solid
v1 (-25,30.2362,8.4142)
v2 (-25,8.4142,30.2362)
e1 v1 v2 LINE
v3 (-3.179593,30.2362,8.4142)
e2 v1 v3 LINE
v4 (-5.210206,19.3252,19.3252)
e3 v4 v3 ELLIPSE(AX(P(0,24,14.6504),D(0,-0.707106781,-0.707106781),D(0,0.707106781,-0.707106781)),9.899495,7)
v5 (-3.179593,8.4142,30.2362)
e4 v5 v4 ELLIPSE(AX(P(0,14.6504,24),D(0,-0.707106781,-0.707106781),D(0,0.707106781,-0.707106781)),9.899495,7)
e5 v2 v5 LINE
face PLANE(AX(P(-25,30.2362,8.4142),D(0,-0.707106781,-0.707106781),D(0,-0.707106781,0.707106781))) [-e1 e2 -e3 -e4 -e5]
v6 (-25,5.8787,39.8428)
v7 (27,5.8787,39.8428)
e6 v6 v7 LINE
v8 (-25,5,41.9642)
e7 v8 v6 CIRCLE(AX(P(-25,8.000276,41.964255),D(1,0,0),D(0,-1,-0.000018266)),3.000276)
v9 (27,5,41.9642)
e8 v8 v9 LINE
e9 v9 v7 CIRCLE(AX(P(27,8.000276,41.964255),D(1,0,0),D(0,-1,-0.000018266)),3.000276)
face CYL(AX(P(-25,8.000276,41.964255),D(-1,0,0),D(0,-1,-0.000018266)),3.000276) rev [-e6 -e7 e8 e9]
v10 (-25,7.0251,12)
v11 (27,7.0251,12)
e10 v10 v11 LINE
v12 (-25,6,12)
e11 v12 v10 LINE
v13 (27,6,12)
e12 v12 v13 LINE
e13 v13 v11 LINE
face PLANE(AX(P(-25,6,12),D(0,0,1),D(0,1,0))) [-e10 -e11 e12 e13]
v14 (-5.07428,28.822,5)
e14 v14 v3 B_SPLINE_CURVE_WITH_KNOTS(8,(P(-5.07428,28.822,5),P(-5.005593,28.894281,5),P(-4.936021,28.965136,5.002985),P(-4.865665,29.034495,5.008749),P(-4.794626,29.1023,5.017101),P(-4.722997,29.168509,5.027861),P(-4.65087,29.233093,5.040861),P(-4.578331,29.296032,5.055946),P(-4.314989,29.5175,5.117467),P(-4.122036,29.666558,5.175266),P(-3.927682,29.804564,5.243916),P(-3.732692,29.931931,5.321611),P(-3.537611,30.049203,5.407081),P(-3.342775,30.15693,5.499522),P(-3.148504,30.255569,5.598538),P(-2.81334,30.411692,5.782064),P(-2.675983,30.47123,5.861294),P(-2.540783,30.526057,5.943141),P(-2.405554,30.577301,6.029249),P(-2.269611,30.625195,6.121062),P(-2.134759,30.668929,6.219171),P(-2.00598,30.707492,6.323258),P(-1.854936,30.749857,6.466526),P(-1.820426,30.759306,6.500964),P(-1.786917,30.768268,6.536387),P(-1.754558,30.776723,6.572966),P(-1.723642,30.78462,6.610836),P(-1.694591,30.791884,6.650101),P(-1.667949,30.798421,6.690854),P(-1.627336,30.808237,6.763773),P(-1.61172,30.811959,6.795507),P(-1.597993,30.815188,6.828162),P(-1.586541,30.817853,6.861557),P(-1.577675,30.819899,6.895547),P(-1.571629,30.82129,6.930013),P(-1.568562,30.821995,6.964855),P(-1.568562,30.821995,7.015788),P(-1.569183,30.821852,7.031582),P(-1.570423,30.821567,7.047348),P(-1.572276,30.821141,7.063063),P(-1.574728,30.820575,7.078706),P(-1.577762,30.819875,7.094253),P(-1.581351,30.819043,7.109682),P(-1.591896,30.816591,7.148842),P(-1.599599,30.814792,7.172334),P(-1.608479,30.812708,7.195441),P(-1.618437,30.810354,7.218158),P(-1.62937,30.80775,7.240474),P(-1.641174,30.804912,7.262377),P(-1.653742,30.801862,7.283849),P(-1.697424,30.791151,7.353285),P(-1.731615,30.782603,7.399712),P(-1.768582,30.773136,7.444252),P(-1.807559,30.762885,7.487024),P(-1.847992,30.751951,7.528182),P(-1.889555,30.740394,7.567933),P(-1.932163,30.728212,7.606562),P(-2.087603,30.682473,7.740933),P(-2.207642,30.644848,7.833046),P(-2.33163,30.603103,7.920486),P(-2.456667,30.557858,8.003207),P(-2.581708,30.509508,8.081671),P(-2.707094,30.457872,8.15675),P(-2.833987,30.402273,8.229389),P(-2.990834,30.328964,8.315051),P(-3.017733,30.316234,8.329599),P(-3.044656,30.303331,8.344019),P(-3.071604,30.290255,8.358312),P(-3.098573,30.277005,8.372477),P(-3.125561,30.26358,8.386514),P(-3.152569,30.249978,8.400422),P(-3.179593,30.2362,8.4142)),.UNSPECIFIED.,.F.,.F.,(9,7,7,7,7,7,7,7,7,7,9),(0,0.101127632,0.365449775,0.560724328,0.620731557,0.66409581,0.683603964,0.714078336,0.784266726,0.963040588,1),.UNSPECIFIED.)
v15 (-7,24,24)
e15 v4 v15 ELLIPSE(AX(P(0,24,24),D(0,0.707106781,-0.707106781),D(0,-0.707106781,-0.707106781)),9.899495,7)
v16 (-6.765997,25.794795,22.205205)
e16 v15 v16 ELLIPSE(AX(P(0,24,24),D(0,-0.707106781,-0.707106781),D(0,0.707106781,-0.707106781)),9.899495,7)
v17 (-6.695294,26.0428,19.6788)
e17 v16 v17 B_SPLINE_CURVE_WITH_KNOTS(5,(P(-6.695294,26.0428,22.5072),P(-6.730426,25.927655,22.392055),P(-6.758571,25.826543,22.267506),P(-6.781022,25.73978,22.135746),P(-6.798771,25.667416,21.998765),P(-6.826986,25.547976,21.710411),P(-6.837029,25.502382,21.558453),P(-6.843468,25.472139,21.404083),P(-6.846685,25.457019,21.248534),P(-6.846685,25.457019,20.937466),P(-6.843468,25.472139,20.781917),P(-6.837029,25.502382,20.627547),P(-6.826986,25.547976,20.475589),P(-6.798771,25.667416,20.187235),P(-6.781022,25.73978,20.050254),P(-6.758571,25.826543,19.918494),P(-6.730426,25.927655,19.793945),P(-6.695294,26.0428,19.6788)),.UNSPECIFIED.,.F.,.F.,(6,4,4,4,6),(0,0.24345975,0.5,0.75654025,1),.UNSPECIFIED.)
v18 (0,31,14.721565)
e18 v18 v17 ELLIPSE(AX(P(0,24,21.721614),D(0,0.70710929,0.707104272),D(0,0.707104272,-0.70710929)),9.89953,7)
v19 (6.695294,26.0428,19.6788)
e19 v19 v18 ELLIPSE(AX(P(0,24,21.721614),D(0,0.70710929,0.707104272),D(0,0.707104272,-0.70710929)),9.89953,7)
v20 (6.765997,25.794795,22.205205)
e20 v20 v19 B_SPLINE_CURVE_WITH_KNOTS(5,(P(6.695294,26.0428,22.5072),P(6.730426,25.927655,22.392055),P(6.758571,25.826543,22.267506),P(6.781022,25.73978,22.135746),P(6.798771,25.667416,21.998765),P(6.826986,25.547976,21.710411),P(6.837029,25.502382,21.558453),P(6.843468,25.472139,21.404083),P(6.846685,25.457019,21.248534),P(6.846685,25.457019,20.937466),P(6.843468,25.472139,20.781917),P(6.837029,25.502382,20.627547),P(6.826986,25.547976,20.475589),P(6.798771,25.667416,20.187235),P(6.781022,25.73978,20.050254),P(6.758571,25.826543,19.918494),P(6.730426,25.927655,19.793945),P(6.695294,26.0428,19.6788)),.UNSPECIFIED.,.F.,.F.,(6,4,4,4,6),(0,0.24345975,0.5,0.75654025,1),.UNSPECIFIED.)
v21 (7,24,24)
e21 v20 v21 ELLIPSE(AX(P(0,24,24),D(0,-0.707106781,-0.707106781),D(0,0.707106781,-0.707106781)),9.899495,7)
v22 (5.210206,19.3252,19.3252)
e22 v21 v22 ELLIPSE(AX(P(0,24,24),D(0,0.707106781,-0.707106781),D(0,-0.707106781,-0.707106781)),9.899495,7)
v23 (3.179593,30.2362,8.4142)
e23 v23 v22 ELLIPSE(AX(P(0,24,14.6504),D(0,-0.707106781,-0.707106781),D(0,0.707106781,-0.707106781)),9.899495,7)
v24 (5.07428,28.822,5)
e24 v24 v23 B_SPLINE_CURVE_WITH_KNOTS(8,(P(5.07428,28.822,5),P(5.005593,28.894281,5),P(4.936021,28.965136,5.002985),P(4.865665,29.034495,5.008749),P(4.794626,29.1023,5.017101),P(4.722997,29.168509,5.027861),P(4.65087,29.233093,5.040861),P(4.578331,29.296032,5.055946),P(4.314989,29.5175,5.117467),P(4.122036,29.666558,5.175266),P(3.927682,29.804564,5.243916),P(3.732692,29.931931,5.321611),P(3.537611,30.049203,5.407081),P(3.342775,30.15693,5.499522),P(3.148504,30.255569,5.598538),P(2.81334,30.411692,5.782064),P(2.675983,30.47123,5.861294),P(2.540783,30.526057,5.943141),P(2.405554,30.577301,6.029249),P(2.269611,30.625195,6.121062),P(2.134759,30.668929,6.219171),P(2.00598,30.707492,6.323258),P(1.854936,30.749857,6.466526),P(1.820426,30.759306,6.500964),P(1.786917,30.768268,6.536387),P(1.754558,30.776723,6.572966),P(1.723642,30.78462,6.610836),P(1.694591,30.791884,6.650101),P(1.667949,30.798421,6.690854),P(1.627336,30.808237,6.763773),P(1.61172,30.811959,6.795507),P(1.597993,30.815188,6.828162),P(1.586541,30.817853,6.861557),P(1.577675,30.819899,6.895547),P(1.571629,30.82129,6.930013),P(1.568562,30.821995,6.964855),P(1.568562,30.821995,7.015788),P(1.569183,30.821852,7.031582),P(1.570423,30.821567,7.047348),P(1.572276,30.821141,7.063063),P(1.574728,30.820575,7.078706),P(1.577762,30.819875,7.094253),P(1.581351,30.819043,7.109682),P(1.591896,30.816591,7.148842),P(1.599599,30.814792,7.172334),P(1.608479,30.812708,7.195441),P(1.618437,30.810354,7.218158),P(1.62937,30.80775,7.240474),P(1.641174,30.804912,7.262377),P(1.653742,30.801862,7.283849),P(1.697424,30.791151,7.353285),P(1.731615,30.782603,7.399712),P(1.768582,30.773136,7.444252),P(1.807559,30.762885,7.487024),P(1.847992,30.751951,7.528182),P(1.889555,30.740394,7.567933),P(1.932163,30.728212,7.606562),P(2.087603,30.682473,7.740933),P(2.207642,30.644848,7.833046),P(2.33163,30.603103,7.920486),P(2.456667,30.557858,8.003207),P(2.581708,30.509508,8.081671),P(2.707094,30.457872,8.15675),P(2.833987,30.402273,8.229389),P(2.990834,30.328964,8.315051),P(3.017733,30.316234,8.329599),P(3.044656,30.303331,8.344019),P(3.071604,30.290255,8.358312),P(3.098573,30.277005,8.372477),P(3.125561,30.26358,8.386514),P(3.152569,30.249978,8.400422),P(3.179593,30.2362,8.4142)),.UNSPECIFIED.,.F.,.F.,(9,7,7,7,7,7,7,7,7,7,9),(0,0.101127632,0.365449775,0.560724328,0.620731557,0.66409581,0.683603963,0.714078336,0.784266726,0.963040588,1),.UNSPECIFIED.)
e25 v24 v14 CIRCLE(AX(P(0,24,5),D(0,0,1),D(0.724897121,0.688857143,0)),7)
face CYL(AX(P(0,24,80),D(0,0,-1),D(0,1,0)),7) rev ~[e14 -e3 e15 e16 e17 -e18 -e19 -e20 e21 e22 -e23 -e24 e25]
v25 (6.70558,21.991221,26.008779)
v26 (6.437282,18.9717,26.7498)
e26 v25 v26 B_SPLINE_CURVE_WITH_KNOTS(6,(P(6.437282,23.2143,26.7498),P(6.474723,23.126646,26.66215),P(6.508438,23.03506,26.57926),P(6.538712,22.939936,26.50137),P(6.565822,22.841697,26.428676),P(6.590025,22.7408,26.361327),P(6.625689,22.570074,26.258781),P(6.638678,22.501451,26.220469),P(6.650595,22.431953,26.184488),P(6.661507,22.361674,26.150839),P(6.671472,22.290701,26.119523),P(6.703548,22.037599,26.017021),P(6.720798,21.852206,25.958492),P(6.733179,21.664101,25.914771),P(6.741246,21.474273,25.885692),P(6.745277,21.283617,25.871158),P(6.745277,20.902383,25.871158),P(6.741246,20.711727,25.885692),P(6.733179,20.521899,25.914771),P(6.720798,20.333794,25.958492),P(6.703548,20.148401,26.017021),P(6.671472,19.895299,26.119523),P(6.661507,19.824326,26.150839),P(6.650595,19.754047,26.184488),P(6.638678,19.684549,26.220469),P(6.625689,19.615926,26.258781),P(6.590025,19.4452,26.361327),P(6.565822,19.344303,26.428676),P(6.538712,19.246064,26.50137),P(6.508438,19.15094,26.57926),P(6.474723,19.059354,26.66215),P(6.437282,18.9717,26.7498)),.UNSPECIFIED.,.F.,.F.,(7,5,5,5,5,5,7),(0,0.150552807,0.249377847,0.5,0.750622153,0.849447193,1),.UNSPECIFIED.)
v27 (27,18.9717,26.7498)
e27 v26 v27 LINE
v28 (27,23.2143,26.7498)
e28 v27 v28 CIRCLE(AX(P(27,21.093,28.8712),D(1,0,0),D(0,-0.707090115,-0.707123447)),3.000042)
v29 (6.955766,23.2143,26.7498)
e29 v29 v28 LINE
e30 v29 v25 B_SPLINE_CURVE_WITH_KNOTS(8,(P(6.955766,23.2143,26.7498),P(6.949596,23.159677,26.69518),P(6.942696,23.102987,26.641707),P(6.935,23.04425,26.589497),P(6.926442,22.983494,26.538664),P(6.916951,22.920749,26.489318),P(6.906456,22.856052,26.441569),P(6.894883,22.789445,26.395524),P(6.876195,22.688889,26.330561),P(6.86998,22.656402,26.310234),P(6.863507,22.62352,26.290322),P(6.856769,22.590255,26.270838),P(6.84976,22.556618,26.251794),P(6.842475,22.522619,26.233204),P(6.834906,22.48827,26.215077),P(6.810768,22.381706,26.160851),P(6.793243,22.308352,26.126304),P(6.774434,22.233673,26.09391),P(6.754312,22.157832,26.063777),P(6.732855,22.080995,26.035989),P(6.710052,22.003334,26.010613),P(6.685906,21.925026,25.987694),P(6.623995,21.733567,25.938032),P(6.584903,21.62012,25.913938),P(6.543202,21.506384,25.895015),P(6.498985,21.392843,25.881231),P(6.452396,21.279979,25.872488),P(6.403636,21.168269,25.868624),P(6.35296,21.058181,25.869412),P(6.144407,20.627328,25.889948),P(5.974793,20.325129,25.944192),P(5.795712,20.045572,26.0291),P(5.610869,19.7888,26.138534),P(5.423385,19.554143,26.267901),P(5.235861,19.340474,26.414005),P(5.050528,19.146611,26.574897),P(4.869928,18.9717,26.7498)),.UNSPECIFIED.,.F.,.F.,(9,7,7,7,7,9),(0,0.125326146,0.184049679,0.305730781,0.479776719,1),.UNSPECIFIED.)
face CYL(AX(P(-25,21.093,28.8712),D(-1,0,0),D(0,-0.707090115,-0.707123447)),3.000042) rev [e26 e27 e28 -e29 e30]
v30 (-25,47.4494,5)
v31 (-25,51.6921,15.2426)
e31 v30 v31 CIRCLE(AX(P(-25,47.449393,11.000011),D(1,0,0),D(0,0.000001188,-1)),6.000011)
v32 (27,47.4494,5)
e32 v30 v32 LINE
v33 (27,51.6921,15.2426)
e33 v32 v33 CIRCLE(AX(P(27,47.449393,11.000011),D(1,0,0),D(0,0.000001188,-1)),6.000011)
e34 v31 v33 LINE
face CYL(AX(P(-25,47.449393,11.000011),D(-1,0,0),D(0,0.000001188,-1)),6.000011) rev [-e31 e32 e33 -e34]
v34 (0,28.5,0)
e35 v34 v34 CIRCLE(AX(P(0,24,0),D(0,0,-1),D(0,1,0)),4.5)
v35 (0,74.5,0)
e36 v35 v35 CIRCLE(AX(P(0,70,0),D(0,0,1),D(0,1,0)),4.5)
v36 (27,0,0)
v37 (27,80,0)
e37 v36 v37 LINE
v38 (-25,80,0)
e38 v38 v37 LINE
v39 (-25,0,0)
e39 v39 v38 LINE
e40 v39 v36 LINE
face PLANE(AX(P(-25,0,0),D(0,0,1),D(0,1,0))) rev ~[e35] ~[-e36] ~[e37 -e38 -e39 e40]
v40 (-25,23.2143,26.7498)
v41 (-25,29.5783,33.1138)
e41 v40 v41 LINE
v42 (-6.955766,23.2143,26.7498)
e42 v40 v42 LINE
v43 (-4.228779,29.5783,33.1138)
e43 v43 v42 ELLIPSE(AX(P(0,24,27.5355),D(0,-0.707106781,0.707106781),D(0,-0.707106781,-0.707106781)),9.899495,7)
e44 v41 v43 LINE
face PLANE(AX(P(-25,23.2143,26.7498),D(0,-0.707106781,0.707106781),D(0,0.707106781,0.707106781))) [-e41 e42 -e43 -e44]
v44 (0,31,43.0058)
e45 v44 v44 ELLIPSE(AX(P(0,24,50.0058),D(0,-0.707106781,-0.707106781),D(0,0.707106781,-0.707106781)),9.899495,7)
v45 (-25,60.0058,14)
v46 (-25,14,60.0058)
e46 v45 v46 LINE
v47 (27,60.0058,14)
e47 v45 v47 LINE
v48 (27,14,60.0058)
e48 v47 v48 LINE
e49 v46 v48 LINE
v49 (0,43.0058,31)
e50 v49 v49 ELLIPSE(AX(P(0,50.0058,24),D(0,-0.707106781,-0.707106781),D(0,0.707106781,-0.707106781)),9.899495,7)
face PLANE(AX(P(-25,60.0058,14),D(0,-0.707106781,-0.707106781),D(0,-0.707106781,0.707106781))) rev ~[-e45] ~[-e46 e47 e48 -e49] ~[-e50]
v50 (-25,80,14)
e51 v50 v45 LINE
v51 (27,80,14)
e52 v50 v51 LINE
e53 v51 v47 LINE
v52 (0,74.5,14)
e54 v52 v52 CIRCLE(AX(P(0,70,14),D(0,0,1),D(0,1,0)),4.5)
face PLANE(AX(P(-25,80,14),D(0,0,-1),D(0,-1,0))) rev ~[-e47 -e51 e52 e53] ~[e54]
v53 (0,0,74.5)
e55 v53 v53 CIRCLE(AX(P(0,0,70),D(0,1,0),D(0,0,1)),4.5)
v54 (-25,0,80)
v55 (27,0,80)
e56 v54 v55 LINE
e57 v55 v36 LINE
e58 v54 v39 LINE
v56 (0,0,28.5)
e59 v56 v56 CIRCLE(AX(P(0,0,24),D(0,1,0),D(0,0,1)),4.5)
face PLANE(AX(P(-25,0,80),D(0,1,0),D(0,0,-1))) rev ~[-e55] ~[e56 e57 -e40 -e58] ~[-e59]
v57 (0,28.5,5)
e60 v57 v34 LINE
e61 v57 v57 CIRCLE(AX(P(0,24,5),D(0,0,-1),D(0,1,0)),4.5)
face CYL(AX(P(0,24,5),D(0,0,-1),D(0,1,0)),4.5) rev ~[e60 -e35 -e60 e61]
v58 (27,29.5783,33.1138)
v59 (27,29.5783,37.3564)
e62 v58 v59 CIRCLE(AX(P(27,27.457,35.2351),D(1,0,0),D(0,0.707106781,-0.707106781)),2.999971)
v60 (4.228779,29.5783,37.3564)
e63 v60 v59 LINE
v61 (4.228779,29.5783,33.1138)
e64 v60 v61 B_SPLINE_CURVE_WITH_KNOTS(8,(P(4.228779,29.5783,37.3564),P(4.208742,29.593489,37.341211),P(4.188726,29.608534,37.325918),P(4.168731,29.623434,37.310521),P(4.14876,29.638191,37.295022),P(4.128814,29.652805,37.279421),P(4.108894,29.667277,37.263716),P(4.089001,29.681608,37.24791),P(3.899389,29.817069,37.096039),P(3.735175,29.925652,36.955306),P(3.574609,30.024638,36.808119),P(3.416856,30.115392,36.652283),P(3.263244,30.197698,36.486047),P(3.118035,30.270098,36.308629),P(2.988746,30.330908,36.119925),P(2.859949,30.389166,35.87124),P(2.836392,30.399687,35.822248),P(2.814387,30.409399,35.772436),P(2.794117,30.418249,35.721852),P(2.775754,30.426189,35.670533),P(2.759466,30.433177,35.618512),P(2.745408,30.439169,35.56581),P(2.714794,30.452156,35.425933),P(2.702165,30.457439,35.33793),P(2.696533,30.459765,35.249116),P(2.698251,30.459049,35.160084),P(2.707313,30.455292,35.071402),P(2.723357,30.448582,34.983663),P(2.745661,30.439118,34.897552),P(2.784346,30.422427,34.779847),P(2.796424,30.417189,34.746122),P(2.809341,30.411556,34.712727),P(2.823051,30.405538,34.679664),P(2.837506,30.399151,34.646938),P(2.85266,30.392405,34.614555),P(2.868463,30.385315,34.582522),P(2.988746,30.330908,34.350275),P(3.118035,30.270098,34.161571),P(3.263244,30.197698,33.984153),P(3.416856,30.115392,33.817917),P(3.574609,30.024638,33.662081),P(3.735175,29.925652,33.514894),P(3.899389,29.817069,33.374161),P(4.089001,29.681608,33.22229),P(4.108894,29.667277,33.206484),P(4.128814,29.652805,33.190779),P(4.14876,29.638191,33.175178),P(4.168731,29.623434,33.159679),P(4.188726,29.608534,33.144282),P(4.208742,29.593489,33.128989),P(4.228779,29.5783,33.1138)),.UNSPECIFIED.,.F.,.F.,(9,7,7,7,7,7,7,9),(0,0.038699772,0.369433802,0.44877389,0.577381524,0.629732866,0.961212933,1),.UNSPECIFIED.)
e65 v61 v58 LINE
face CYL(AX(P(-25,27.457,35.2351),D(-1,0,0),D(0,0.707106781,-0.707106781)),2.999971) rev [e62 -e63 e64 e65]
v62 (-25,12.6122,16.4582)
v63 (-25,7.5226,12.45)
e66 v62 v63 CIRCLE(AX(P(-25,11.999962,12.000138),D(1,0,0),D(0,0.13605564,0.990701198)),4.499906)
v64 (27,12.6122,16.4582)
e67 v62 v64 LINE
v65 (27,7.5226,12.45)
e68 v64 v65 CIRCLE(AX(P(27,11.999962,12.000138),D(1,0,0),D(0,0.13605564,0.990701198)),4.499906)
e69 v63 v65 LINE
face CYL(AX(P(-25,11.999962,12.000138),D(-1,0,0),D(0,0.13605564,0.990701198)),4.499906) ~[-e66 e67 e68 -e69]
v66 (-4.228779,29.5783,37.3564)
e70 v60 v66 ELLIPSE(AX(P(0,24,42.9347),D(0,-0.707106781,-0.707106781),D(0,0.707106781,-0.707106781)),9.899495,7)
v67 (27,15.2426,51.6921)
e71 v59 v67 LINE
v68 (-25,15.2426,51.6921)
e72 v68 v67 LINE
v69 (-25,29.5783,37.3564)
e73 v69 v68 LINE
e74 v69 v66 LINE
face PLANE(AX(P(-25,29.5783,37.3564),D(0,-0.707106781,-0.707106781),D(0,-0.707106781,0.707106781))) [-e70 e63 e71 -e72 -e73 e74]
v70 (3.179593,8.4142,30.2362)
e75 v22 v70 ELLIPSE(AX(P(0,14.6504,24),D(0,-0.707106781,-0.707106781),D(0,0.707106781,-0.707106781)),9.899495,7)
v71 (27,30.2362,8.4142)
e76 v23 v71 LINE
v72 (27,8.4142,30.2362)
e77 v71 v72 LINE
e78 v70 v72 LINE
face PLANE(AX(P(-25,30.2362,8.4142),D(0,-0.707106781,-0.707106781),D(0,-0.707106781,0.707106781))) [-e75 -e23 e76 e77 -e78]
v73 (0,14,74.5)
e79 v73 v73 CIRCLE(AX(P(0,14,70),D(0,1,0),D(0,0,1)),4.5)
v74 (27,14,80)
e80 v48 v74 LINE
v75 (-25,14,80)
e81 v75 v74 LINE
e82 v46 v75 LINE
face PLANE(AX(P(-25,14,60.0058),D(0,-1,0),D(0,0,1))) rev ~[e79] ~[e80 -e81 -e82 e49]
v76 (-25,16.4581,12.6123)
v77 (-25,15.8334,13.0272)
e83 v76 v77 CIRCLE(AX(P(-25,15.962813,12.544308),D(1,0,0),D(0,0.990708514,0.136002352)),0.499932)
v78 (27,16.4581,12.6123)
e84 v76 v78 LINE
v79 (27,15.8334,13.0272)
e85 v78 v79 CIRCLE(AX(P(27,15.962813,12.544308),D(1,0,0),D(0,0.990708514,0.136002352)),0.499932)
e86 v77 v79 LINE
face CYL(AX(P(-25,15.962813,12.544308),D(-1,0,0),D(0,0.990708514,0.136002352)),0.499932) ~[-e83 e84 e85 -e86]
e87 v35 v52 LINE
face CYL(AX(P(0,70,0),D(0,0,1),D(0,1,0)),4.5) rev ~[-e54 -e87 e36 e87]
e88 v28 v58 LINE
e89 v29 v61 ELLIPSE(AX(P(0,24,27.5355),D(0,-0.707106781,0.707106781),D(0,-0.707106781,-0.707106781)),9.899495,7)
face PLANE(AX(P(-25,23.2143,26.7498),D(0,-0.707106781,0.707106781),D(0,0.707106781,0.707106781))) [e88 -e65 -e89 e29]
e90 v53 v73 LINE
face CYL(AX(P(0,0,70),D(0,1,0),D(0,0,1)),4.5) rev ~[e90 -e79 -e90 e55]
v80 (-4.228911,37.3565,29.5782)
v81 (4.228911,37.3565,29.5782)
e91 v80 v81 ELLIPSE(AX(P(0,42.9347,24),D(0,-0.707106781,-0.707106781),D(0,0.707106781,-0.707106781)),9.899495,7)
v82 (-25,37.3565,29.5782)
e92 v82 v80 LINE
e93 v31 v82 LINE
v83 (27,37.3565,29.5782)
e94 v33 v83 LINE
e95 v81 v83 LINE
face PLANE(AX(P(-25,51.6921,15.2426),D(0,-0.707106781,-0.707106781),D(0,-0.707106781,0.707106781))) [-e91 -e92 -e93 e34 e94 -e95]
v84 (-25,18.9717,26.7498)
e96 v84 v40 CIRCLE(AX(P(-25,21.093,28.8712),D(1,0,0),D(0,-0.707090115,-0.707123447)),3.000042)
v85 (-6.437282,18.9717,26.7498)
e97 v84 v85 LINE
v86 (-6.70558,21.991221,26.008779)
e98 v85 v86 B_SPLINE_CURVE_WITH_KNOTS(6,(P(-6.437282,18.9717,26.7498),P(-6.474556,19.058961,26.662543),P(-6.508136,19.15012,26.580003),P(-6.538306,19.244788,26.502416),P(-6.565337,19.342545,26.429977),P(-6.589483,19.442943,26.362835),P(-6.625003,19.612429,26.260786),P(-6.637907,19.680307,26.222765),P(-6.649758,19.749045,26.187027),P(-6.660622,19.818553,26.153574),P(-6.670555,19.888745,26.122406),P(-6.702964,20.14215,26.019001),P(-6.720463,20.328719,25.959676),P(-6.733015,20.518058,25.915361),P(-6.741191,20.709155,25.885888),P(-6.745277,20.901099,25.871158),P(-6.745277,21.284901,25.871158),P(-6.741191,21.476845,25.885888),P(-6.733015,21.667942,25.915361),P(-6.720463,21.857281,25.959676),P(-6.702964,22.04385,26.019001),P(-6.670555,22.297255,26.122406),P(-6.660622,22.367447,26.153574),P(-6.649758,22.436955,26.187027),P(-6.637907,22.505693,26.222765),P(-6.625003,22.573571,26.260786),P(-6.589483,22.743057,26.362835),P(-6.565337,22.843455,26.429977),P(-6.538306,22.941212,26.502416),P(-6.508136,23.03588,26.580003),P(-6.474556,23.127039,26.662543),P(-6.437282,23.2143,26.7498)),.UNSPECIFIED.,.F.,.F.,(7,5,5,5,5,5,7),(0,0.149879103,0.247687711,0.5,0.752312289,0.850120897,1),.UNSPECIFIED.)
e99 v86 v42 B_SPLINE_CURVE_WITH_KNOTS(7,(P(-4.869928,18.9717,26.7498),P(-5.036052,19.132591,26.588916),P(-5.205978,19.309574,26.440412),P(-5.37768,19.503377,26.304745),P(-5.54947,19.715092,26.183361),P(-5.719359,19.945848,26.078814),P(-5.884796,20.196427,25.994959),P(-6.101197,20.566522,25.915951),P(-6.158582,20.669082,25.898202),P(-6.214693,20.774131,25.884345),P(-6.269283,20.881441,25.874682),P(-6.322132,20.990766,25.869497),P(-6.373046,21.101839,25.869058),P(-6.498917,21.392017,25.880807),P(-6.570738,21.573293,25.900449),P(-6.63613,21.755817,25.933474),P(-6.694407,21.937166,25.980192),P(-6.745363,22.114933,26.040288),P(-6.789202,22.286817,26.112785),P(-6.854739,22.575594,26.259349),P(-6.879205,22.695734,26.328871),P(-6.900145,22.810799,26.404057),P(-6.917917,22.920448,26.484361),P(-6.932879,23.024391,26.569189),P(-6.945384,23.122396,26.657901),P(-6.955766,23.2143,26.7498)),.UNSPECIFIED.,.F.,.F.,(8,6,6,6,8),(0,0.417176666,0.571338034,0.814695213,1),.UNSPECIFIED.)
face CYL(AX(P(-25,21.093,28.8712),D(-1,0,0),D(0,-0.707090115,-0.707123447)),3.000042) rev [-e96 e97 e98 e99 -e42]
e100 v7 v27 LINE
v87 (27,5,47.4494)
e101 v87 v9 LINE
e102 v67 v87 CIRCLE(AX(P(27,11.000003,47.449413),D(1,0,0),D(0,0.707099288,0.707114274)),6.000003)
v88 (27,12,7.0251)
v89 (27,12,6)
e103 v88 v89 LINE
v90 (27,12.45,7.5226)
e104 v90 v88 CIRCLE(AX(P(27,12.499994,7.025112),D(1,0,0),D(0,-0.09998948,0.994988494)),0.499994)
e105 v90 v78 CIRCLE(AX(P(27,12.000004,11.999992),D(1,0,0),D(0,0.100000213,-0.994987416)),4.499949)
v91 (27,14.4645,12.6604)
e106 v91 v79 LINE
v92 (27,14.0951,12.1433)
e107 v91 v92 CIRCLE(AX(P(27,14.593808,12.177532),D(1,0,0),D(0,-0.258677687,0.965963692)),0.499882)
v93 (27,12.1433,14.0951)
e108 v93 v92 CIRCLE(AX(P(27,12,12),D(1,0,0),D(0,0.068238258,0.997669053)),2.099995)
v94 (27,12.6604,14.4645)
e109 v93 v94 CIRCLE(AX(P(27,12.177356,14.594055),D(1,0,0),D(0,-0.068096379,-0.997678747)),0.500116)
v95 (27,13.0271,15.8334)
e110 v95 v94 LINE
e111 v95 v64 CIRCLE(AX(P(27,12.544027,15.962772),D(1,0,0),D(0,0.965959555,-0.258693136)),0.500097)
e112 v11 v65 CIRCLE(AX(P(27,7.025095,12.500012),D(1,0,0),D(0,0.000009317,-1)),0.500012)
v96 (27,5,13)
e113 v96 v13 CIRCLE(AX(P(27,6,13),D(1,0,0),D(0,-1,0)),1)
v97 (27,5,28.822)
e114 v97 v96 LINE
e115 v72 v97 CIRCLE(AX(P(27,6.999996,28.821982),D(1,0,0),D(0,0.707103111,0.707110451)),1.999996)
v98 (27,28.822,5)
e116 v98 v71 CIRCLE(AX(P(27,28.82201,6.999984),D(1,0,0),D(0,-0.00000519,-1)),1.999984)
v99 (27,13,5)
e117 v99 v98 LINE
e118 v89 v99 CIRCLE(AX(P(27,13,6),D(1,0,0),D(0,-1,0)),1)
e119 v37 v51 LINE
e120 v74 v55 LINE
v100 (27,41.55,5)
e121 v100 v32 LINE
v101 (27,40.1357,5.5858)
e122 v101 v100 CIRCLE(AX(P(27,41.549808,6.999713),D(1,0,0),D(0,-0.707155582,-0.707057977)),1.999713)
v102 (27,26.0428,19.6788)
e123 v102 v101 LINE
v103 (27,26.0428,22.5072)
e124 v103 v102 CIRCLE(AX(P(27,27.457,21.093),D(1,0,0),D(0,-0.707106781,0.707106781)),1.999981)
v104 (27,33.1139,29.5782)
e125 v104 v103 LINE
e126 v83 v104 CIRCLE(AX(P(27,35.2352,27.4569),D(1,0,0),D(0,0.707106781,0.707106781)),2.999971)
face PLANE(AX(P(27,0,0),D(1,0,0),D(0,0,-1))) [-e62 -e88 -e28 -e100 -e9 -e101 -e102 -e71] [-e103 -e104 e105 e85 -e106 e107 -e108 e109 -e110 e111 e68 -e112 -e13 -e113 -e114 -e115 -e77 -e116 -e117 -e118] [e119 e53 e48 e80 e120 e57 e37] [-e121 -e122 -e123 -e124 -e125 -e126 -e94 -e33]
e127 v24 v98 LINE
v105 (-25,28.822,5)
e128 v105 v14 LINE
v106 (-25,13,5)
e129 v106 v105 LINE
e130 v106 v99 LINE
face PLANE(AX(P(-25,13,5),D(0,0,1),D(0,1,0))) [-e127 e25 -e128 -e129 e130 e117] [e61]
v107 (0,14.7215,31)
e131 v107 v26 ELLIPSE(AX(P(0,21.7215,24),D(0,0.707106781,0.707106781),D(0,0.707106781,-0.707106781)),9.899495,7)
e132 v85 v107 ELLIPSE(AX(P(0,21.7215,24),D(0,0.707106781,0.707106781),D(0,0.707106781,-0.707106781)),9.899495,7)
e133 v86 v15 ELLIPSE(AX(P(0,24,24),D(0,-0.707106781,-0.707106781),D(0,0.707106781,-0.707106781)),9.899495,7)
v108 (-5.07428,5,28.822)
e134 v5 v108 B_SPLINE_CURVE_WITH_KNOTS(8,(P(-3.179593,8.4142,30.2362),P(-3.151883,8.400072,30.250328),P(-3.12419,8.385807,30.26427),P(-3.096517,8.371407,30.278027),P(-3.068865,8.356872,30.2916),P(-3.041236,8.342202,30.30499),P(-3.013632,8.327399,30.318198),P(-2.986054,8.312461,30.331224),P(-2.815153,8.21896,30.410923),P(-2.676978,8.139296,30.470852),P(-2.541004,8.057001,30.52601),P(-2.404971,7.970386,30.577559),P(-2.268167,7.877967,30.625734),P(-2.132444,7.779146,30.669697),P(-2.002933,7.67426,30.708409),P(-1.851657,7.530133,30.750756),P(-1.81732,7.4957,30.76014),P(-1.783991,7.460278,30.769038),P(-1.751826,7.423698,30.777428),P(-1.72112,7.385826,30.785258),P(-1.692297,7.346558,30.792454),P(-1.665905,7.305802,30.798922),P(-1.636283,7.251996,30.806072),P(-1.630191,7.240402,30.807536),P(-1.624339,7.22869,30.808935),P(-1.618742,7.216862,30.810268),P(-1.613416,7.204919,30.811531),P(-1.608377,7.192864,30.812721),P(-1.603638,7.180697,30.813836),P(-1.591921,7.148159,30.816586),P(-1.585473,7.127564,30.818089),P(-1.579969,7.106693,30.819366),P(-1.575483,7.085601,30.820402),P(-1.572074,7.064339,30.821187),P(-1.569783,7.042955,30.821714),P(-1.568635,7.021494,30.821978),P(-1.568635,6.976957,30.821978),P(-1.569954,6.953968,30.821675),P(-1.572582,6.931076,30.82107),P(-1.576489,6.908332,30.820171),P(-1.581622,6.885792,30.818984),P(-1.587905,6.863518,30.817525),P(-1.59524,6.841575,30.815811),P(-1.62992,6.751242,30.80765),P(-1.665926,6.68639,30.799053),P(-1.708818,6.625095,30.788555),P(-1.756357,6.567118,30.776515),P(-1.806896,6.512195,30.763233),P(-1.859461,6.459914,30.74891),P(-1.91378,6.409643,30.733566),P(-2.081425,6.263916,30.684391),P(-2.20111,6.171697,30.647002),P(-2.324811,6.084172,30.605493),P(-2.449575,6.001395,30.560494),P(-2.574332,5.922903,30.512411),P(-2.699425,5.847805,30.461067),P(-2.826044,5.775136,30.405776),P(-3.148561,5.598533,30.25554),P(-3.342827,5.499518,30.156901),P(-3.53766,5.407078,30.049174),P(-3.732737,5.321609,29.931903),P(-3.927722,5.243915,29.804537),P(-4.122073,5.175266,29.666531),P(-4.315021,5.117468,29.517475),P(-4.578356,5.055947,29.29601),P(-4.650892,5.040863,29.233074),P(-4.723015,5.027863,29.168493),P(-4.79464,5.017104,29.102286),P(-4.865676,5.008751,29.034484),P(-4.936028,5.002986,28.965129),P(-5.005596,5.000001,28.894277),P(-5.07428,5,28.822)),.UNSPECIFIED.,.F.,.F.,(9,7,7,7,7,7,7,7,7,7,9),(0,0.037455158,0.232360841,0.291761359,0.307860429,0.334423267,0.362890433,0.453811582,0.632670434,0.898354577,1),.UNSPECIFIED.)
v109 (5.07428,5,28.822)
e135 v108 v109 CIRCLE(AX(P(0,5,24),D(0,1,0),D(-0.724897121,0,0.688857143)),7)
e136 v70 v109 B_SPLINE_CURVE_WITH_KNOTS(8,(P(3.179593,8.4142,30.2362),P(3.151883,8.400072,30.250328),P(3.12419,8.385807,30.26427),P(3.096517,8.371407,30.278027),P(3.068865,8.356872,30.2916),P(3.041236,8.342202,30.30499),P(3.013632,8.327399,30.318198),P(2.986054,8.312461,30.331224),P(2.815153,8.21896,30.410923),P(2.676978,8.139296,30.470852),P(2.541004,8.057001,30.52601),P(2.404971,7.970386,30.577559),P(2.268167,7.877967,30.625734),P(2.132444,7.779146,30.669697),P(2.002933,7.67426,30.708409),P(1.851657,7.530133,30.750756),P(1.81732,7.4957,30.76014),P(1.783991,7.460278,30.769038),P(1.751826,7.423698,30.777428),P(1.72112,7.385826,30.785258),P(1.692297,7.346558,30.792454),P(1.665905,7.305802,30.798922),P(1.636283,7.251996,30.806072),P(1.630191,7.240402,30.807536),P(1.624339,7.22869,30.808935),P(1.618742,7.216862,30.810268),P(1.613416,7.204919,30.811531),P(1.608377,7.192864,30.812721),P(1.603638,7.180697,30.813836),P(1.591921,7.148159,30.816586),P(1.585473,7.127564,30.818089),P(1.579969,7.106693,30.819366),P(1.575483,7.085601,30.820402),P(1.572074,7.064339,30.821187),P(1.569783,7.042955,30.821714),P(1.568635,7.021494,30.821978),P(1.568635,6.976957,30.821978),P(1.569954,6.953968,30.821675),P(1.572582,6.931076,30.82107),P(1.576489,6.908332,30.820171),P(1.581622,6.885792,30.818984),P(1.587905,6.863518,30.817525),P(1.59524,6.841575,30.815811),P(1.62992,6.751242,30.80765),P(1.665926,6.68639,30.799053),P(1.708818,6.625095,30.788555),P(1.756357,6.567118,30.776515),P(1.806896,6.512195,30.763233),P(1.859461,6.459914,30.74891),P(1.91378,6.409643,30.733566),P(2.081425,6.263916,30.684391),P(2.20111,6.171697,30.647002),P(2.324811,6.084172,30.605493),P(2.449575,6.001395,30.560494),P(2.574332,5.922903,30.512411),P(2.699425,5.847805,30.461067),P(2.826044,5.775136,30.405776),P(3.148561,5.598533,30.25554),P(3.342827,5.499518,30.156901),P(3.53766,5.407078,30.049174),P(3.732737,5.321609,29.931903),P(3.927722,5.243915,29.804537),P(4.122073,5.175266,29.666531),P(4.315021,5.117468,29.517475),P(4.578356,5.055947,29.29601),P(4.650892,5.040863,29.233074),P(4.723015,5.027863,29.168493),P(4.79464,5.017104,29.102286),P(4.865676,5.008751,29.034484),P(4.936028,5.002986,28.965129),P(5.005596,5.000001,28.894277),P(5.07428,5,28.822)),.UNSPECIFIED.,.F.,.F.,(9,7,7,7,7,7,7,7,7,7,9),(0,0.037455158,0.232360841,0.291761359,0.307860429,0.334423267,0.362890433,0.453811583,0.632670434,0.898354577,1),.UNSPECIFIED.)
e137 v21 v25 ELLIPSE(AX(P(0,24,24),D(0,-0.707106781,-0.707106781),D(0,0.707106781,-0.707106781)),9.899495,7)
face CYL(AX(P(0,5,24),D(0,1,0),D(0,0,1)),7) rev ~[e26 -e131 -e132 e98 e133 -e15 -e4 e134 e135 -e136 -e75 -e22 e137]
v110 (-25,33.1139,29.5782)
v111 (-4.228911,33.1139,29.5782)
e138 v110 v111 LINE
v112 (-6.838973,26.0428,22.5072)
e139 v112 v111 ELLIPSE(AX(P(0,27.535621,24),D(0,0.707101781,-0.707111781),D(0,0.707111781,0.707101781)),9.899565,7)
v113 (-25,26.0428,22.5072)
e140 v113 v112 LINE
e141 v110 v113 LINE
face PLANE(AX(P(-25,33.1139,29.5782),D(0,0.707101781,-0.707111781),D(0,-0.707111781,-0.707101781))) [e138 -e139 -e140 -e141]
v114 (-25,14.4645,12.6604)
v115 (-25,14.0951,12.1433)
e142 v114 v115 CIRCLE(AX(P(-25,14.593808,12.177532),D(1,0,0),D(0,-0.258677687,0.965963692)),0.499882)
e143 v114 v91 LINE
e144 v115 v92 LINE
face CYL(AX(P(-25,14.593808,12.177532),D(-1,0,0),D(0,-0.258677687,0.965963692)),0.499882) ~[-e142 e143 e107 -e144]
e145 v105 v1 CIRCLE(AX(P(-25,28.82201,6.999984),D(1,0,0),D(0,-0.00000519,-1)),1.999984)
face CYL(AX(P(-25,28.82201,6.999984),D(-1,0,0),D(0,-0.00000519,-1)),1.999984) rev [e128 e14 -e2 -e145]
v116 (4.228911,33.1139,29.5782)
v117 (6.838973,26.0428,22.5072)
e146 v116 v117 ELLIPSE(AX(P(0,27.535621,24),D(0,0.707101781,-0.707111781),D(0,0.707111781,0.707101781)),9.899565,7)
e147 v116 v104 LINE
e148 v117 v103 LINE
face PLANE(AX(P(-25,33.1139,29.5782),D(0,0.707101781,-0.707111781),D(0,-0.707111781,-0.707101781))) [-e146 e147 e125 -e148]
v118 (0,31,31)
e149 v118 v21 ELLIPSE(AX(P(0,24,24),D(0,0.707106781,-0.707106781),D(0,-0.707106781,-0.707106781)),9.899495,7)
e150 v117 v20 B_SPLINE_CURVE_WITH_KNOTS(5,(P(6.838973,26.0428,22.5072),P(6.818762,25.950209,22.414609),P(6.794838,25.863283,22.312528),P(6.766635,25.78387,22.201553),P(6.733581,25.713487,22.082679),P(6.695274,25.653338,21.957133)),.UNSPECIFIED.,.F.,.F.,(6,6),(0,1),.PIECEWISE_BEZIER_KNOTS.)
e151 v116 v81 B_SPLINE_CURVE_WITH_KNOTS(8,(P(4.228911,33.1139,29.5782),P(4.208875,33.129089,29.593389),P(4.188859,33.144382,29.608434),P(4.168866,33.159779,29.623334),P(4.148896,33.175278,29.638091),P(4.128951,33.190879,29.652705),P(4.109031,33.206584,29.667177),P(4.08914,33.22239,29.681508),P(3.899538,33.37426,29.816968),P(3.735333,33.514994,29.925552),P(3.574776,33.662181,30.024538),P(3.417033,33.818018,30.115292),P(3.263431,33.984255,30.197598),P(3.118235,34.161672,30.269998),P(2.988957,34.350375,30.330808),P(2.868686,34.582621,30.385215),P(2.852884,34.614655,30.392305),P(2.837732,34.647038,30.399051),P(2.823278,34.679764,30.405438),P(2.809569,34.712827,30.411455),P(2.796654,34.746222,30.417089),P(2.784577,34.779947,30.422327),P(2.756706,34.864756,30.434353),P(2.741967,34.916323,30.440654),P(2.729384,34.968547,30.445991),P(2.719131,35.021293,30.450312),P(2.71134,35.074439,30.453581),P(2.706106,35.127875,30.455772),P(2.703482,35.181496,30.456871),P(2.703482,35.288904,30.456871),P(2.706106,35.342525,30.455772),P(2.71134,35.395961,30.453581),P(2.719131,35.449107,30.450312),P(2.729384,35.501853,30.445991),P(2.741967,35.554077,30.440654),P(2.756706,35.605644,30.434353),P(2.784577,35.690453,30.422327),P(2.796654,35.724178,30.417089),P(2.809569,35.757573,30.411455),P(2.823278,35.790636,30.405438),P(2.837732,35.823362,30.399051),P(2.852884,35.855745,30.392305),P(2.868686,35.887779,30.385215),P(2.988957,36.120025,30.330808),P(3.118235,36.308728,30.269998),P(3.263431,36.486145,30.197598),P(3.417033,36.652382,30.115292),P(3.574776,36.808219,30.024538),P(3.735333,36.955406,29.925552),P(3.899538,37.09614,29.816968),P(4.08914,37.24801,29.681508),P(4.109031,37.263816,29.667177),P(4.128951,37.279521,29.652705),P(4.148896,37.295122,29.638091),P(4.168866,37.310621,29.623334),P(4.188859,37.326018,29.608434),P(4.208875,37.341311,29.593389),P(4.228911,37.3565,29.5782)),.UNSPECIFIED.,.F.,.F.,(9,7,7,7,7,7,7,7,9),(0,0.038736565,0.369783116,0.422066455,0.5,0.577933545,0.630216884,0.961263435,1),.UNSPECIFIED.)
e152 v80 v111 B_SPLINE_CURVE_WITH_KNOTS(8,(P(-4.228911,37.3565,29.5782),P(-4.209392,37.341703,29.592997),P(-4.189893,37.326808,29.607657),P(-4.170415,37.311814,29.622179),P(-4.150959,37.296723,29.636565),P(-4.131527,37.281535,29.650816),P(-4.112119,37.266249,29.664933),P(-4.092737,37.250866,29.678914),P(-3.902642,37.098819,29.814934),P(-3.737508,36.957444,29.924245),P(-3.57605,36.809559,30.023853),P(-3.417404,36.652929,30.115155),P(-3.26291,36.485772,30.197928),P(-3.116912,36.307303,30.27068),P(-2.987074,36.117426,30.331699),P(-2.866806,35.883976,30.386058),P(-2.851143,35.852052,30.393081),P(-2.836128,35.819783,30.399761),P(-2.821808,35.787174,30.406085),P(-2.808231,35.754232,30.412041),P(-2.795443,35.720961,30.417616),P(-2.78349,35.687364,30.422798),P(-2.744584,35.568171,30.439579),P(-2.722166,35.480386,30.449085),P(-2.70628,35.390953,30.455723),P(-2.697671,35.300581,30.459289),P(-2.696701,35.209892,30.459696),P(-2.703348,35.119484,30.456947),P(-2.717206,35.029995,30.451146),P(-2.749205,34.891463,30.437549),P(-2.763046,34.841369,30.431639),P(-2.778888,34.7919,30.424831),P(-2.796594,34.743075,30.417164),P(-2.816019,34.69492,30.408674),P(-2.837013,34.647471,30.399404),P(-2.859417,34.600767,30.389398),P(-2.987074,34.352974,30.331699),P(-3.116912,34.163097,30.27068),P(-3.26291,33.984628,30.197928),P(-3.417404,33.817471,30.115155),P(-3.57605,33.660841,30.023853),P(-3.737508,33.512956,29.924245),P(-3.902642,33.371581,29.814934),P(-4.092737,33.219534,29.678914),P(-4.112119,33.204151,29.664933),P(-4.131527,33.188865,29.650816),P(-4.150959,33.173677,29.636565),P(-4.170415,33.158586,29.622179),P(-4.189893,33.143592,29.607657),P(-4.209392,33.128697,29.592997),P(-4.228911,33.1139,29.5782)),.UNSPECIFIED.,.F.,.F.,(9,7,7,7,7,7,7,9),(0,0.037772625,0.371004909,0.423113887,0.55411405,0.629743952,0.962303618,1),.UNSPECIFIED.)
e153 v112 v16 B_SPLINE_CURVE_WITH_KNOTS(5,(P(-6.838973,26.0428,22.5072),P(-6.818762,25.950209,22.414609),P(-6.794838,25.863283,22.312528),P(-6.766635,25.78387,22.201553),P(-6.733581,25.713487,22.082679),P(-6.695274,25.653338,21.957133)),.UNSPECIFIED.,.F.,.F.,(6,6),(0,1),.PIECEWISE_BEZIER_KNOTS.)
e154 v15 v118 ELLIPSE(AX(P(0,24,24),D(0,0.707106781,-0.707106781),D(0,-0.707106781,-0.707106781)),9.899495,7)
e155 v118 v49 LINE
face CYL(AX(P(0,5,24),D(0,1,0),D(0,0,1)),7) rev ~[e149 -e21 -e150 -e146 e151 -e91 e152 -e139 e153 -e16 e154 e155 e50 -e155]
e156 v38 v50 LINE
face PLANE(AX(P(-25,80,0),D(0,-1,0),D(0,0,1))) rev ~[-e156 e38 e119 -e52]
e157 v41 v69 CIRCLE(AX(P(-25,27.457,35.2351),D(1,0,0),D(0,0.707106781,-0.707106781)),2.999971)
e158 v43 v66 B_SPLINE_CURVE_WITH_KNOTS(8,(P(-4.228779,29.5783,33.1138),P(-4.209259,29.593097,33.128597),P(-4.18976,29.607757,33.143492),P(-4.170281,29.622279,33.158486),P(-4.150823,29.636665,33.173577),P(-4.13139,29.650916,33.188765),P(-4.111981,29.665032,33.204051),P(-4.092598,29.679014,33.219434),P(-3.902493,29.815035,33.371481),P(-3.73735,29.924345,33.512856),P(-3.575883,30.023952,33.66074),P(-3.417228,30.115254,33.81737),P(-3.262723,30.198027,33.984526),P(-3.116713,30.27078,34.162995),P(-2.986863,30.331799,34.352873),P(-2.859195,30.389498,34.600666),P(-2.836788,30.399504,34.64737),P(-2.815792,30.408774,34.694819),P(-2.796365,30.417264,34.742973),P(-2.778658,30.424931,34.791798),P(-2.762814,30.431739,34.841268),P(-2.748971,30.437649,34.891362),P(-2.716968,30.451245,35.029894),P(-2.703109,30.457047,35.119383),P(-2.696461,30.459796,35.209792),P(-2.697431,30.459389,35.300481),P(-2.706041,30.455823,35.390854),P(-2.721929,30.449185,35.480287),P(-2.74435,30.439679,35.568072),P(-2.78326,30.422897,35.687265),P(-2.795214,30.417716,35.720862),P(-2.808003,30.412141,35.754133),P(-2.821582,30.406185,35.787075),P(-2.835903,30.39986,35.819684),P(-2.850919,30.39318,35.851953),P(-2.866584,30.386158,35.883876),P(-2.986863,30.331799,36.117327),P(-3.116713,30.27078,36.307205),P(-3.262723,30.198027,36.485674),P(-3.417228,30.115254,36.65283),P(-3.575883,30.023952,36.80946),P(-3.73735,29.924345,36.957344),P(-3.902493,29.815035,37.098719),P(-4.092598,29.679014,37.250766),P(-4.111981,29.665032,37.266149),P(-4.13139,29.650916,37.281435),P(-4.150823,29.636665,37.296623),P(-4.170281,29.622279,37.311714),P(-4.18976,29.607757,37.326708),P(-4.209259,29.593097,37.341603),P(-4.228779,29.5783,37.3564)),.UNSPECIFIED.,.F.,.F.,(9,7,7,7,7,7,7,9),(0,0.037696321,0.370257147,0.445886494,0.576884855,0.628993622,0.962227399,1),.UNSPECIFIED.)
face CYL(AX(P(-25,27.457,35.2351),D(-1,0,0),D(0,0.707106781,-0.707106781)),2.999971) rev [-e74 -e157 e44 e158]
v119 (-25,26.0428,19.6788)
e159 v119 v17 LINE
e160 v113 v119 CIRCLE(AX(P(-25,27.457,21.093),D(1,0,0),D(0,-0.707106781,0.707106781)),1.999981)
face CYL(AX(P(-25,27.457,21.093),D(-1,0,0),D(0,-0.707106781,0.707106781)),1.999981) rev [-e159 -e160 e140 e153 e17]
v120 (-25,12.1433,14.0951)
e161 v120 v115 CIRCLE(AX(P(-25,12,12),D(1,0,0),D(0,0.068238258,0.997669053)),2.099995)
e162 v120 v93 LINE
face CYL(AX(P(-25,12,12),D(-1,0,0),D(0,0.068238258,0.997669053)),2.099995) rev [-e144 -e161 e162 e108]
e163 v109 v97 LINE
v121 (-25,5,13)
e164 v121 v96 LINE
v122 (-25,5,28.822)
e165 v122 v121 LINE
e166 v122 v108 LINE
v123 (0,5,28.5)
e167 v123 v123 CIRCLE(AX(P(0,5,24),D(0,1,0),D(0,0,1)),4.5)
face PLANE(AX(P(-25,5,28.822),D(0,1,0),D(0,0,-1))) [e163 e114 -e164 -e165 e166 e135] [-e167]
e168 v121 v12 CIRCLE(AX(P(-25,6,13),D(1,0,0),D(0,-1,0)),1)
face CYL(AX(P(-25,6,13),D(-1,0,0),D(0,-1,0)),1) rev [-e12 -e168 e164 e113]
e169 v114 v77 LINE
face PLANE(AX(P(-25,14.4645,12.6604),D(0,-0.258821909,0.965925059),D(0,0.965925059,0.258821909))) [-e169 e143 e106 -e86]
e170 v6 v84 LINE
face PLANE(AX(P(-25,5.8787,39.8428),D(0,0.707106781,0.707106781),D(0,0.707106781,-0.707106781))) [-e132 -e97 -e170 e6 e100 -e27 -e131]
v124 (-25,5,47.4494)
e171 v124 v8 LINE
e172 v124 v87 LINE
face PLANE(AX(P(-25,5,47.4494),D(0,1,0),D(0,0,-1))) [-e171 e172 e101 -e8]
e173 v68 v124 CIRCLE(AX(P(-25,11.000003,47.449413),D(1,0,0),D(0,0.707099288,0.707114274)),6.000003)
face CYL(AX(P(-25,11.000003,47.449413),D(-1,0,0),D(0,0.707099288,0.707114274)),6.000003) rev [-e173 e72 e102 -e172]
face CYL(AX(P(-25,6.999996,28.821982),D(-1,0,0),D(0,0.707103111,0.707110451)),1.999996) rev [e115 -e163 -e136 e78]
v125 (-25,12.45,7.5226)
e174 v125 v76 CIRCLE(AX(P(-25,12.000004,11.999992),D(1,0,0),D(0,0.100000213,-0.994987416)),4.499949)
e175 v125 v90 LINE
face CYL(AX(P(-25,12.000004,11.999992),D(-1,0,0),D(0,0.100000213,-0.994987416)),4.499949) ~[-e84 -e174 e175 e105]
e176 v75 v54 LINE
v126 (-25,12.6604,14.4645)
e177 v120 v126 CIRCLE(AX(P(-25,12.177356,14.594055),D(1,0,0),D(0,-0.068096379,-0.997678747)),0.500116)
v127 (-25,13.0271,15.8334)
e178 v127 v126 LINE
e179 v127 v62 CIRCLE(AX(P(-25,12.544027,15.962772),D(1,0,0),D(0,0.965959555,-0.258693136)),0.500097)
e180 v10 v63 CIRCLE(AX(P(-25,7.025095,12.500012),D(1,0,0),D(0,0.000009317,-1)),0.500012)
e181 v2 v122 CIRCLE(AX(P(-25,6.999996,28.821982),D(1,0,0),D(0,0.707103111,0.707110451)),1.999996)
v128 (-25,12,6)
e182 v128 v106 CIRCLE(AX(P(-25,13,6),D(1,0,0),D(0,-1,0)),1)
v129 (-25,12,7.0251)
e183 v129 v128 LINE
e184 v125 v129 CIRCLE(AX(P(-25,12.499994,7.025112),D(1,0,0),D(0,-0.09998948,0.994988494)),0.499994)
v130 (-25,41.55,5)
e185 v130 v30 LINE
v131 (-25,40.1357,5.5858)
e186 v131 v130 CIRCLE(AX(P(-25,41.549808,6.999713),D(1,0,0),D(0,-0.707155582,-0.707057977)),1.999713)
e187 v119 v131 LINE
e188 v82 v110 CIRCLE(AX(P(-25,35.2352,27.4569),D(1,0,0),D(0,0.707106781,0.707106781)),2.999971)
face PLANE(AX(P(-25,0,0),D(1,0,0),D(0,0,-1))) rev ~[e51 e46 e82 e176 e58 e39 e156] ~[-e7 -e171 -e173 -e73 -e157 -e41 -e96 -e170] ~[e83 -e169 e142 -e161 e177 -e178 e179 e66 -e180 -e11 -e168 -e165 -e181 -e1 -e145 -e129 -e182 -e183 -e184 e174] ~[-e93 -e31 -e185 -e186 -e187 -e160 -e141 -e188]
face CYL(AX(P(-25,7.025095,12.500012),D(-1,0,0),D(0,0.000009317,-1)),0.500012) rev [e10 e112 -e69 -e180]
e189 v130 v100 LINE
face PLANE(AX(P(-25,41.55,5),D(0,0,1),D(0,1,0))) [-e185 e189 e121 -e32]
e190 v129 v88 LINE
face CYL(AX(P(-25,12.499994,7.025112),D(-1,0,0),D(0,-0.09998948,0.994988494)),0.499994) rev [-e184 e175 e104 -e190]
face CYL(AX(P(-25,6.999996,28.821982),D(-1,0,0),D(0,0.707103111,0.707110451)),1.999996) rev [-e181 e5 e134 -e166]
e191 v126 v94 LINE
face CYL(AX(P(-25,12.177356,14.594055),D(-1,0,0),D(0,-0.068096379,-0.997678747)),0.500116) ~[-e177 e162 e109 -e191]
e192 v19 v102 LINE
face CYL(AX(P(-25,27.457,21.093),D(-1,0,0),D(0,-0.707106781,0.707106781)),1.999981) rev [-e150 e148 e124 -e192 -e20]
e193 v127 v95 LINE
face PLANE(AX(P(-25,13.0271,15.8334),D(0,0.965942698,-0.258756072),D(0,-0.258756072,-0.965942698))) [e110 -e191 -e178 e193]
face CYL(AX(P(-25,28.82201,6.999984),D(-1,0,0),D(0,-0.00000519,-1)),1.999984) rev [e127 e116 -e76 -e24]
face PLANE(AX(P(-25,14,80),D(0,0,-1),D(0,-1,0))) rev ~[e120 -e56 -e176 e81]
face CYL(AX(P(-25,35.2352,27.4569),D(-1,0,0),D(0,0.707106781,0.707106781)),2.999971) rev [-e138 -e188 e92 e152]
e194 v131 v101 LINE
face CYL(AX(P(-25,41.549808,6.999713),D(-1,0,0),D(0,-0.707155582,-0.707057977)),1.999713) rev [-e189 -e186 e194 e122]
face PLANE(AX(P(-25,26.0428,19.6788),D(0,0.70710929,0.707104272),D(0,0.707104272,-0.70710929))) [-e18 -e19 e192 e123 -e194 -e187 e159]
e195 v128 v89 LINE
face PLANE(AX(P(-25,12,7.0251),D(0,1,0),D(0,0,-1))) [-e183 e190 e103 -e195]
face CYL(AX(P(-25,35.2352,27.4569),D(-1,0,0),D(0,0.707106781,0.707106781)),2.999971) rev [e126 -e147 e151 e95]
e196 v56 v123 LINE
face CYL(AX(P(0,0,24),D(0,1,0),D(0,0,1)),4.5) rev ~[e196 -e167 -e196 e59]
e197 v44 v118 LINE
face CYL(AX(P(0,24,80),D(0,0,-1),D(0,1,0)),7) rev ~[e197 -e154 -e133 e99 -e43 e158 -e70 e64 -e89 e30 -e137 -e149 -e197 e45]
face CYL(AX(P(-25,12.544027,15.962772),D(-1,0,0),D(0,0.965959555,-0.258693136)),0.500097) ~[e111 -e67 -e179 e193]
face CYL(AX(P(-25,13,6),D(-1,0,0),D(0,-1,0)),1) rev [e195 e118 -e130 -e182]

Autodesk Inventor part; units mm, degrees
sketch "Sketch_2" plane through (-25, 0, 0) normal (1, 0, 0) x (0, 0, -1)
  line L0 (-80, 0) -> (0, 0)
  line L1 (0, 0) -> (0, 80)
  line L2 (0, 80) -> (-14, 80)
  line L3 (-14, 80) -> (-14, 60.0058)
  line L4 (-14, 60.0058) -> (-60.0058, 14)
  line L5 (-60.0058, 14) -> (-80, 14)
  line L6 (-80, 14) -> (-80, 0)
  arc A0 (-29.5782, 37.3565) -> (-29.5782, 33.1139) centre (-27.4569, 35.2352) ccw
  line L7 (-29.5782, 33.1139) -> (-22.5072, 26.0428)
  arc A1 (-22.5072, 26.0428) -> (-19.6788, 26.0428) centre (-21.093, 27.457) ccw
  line L8 (-19.6788, 26.0428) -> (-5.5858, 40.1357)
  arc A2 (-5.5858, 40.1357) -> (-5, 41.55) centre (-7, 41.55) ccw
  line L9 (-5, 41.55) -> (-5, 47.4494)
  arc A3 (-5, 47.4494) -> (-15.2426, 51.6921) centre (-11, 47.4494) ccw
  line L10 (-15.2426, 51.6921) -> (-29.5782, 37.3565)
  arc A4 (-30.2362, 8.4142) -> (-28.822, 5) centre (-28.822, 7) ccw
  line L11 (-28.822, 5) -> (-13, 5)
  arc A5 (-13, 5) -> (-12, 6) centre (-13, 6) ccw
  line L12 (-12, 6) -> (-12, 7.0251)
  arc A6 (-12, 7.0251) -> (-12.45, 7.5226) centre (-12.5, 7.0251) ccw
  arc A7 (-16.4582, 12.6122) -> (-12.45, 7.5226) centre (-12, 12) ccw
  arc A8 (-15.8334, 13.0271) -> (-16.4582, 12.6122) centre (-15.9628, 12.5442) ccw
  line L13 (-15.8334, 13.0271) -> (-14.4645, 12.6604)
  arc A9 (-14.0951, 12.1433) -> (-14.4645, 12.6604) centre (-14.5939, 12.1774) ccw
  arc A10 (-14.0951, 12.1433) -> (-12.1433, 14.0951) centre (-12, 12) ccw
  arc A11 (-12.6604, 14.4645) -> (-12.1433, 14.0951) centre (-12.1774, 14.5939) ccw
  line L14 (-12.6604, 14.4645) -> (-13.0272, 15.8334)
  arc A12 (-12.6123, 16.4581) -> (-13.0272, 15.8334) centre (-12.5443, 15.9628) ccw
  arc A13 (-7.5226, 12.45) -> (-12.6123, 16.4581) centre (-12, 12) ccw
  arc A14 (-7.5226, 12.45) -> (-7.0251, 12) centre (-7.0251, 12.5) ccw
  line L15 (-7.0251, 12) -> (-6, 12)
  arc A15 (-6, 12) -> (-5, 13) centre (-6, 13) ccw
  line L16 (-5, 13) -> (-5, 28.822)
  arc A16 (-5, 28.822) -> (-8.4142, 30.2362) centre (-7, 28.822) ccw
  line L17 (-8.4142, 30.2362) -> (-30.2362, 8.4142)
  arc A17 (-51.6921, 15.2426) -> (-47.4494, 5) centre (-47.4494, 11) ccw
  line L18 (-47.4494, 5) -> (-41.9642, 5)
  arc A18 (-41.9642, 5) -> (-39.8428, 5.8787) centre (-41.9642, 8) ccw
  line L19 (-39.8428, 5.8787) -> (-26.7498, 18.9717)
  arc A19 (-26.7498, 18.9717) -> (-26.7498, 23.2143) centre (-28.8712, 21.093) ccw
  line L20 (-26.7498, 23.2143) -> (-33.1138, 29.5783)
  arc A20 (-33.1138, 29.5783) -> (-37.3564, 29.5783) centre (-35.2351, 27.457) ccw
  line L21 (-37.3564, 29.5783) -> (-51.6921, 15.2426)
extrude "Extrusion1" add sketch "Sketch_2" along normal blind 52
sketch "Sketch_3" plane through (0, 0, 0) normal (1, 0, 0) x (0, 0, -1)
  line L0 (0, 24) -> (-80, 24)
  line L1 (-80, 24) -> (-80, 31)
  line L2 (-80, 31) -> (-5, 31)
  line L3 (-5, 31) -> (-5, 28.5)
  line L4 (-5, 28.5) -> (0, 28.5)
  line L5 (0, 28.5) -> (0, 24)
  line L6 (0, 24) -> (-80, 24)
revolve "Revolution1" cut sketch "Sketch_3" angle 360 about axis through (0, 24, 0) along (0, 0, -1)
sketch "Sketch_4" plane through (0, 0, 0) normal (1, 0, 0) x (0, 0, -1)
  line L0 (-24, 80) -> (-24, 0)
  line L1 (-24, 0) -> (-28.5, 0)
  line L2 (-28.5, 0) -> (-28.5, 5)
  line L3 (-28.5, 5) -> (-31, 5)
  line L4 (-31, 5) -> (-31, 80)
  line L5 (-31, 80) -> (-24, 80)
  line L6 (-24, 80) -> (-24, 0)
revolve "Revolution2" cut sketch "Sketch_4" angle 360 about axis through (0, 80, 24) along (0, 1, 0)
sketch "Sketch4" plane through (-25, 0, 0) normal (0, 0, -1) x (-1, 0, 0)
  point P0 (-25, 70)
hole "Hole1" at (0, 70, 0) direction (0, 0, 1) diameter 9 depth 15
sketch "Sketch_6" plane through (0, 0, 0) normal (1, 0, 0) x (0, 0, -1)
  line L0 (-70, 15) -> (-70, 0)
  line L1 (-70, 0) -> (-74.5, 0)
  line L2 (-74.5, 0) -> (-74.5, 15)
  line L3 (-74.5, 15) -> (-70, 15)
  line L4 (-70, 15) -> (-70, 0)
revolve "Revolution3" cut sketch "Sketch_6" angle 360 about axis through (0, 15, 70) along (0, 1, 0)
ref_plane "bracket_to_dummy_XY" through (0, 0, 0) normal (0, 1, 0) x (1, 0, 0)
ref_plane "bracket_to_dummy_YZ" through (0, 0, 0) normal (1, 0, 0) x (0, 0, -1)
ref_plane "bracket_to_dummy_ZX" through (0, 0, 0) normal (0, 0, -1) x (0, 1, 0)
ref_plane "to_bolt_a_1_XY" through (0, 70, 14) normal (0, 0, 1) x (1, 0, 0)
ref_plane "to_bolt_a_1_YZ" through (0, 70, 14) normal (1, 0, 0) x (0, 1, 0)
ref_plane "to_bolt_a_1_ZX" through (0, 70, 14) normal (0, 1, 0) x (0, 0, 1)
ref_plane "to_bolt_b_1_XY" through (0, 24, 5) normal (0, 0, 1) x (1, 0, 0)
ref_plane "to_bolt_b_1_YZ" through (0, 24, 5) normal (1, 0, 0) x (0, 1, 0)
ref_plane "to_bolt_b_1_ZX" through (0, 24, 5) normal (0, 1, 0) x (0, 0, 1)
ref_plane "to_bolt_base_a_1_XY" through (0, 14, 70) normal (0, 1, 0) x (1, 0, 0)
ref_plane "to_bolt_base_a_1_YZ" through (0, 14, 70) normal (1, 0, 0) x (0, 0, -1)
ref_plane "to_bolt_base_a_1_ZX" through (0, 14, 70) normal (0, 0, -1) x (0, 1, 0)
ref_plane "to_bolt_base_b_1_XY" through (0, 5, 24) normal (0, 1, 0) x (1, 0, 0)
ref_plane "to_bolt_base_b_1_YZ" through (0, 5, 24) normal (1, 0, 0) x (0, 0, -1)
ref_plane "to_bolt_base_b_1_ZX" through (0, 5, 24) normal (0, 0, -1) x (0, 1, 0)
ref_plane "to_nut_a_1_XY" through (0, 70, -6) normal (0, 0, 1) x (1, 0, 0)
ref_plane "to_nut_a_1_YZ" through (0, 70, -6) normal (1, 0, 0) x (0, 1, 0)
ref_plane "to_nut_a_1_ZX" through (0, 70, -6) normal (0, 1, 0) x (0, 0, 1)
ref_plane "to_nut_a_3_XY" through (0, 24, -6) normal (0, 0, 1) x (1, 0, 0)
ref_plane "to_nut_a_3_YZ" through (0, 24, -6) normal (1, 0, 0) x (0, 1, 0)
ref_plane "to_nut_a_3_ZX" through (0, 24, -6) normal (0, 1, 0) x (0, 0, 1)
ref_plane "to_nut_base_a_1_XY" through (0, -6, 70) normal (0, 1, 0) x (1, 0, 0)
ref_plane "to_nut_base_a_1_YZ" through (0, -6, 70) normal (1, 0, 0) x (0, 0, -1)
ref_plane "to_nut_base_a_1_ZX" through (0, -6, 70) normal (0, 0, -1) x (0, 1, 0)
ref_plane "to_nut_base_a_3_XY" through (0, -6, 24) normal (0, 1, 0) x (1, 0, 0)
ref_plane "to_nut_base_a_3_YZ" through (0, -6, 24) normal (1, 0, 0) x (0, 0, -1)
ref_plane "to_nut_base_a_3_ZX" through (0, -6, 24) normal (0, 0, -1) x (0, 1, 0)
properties part number "NBLUW8-60_b"
